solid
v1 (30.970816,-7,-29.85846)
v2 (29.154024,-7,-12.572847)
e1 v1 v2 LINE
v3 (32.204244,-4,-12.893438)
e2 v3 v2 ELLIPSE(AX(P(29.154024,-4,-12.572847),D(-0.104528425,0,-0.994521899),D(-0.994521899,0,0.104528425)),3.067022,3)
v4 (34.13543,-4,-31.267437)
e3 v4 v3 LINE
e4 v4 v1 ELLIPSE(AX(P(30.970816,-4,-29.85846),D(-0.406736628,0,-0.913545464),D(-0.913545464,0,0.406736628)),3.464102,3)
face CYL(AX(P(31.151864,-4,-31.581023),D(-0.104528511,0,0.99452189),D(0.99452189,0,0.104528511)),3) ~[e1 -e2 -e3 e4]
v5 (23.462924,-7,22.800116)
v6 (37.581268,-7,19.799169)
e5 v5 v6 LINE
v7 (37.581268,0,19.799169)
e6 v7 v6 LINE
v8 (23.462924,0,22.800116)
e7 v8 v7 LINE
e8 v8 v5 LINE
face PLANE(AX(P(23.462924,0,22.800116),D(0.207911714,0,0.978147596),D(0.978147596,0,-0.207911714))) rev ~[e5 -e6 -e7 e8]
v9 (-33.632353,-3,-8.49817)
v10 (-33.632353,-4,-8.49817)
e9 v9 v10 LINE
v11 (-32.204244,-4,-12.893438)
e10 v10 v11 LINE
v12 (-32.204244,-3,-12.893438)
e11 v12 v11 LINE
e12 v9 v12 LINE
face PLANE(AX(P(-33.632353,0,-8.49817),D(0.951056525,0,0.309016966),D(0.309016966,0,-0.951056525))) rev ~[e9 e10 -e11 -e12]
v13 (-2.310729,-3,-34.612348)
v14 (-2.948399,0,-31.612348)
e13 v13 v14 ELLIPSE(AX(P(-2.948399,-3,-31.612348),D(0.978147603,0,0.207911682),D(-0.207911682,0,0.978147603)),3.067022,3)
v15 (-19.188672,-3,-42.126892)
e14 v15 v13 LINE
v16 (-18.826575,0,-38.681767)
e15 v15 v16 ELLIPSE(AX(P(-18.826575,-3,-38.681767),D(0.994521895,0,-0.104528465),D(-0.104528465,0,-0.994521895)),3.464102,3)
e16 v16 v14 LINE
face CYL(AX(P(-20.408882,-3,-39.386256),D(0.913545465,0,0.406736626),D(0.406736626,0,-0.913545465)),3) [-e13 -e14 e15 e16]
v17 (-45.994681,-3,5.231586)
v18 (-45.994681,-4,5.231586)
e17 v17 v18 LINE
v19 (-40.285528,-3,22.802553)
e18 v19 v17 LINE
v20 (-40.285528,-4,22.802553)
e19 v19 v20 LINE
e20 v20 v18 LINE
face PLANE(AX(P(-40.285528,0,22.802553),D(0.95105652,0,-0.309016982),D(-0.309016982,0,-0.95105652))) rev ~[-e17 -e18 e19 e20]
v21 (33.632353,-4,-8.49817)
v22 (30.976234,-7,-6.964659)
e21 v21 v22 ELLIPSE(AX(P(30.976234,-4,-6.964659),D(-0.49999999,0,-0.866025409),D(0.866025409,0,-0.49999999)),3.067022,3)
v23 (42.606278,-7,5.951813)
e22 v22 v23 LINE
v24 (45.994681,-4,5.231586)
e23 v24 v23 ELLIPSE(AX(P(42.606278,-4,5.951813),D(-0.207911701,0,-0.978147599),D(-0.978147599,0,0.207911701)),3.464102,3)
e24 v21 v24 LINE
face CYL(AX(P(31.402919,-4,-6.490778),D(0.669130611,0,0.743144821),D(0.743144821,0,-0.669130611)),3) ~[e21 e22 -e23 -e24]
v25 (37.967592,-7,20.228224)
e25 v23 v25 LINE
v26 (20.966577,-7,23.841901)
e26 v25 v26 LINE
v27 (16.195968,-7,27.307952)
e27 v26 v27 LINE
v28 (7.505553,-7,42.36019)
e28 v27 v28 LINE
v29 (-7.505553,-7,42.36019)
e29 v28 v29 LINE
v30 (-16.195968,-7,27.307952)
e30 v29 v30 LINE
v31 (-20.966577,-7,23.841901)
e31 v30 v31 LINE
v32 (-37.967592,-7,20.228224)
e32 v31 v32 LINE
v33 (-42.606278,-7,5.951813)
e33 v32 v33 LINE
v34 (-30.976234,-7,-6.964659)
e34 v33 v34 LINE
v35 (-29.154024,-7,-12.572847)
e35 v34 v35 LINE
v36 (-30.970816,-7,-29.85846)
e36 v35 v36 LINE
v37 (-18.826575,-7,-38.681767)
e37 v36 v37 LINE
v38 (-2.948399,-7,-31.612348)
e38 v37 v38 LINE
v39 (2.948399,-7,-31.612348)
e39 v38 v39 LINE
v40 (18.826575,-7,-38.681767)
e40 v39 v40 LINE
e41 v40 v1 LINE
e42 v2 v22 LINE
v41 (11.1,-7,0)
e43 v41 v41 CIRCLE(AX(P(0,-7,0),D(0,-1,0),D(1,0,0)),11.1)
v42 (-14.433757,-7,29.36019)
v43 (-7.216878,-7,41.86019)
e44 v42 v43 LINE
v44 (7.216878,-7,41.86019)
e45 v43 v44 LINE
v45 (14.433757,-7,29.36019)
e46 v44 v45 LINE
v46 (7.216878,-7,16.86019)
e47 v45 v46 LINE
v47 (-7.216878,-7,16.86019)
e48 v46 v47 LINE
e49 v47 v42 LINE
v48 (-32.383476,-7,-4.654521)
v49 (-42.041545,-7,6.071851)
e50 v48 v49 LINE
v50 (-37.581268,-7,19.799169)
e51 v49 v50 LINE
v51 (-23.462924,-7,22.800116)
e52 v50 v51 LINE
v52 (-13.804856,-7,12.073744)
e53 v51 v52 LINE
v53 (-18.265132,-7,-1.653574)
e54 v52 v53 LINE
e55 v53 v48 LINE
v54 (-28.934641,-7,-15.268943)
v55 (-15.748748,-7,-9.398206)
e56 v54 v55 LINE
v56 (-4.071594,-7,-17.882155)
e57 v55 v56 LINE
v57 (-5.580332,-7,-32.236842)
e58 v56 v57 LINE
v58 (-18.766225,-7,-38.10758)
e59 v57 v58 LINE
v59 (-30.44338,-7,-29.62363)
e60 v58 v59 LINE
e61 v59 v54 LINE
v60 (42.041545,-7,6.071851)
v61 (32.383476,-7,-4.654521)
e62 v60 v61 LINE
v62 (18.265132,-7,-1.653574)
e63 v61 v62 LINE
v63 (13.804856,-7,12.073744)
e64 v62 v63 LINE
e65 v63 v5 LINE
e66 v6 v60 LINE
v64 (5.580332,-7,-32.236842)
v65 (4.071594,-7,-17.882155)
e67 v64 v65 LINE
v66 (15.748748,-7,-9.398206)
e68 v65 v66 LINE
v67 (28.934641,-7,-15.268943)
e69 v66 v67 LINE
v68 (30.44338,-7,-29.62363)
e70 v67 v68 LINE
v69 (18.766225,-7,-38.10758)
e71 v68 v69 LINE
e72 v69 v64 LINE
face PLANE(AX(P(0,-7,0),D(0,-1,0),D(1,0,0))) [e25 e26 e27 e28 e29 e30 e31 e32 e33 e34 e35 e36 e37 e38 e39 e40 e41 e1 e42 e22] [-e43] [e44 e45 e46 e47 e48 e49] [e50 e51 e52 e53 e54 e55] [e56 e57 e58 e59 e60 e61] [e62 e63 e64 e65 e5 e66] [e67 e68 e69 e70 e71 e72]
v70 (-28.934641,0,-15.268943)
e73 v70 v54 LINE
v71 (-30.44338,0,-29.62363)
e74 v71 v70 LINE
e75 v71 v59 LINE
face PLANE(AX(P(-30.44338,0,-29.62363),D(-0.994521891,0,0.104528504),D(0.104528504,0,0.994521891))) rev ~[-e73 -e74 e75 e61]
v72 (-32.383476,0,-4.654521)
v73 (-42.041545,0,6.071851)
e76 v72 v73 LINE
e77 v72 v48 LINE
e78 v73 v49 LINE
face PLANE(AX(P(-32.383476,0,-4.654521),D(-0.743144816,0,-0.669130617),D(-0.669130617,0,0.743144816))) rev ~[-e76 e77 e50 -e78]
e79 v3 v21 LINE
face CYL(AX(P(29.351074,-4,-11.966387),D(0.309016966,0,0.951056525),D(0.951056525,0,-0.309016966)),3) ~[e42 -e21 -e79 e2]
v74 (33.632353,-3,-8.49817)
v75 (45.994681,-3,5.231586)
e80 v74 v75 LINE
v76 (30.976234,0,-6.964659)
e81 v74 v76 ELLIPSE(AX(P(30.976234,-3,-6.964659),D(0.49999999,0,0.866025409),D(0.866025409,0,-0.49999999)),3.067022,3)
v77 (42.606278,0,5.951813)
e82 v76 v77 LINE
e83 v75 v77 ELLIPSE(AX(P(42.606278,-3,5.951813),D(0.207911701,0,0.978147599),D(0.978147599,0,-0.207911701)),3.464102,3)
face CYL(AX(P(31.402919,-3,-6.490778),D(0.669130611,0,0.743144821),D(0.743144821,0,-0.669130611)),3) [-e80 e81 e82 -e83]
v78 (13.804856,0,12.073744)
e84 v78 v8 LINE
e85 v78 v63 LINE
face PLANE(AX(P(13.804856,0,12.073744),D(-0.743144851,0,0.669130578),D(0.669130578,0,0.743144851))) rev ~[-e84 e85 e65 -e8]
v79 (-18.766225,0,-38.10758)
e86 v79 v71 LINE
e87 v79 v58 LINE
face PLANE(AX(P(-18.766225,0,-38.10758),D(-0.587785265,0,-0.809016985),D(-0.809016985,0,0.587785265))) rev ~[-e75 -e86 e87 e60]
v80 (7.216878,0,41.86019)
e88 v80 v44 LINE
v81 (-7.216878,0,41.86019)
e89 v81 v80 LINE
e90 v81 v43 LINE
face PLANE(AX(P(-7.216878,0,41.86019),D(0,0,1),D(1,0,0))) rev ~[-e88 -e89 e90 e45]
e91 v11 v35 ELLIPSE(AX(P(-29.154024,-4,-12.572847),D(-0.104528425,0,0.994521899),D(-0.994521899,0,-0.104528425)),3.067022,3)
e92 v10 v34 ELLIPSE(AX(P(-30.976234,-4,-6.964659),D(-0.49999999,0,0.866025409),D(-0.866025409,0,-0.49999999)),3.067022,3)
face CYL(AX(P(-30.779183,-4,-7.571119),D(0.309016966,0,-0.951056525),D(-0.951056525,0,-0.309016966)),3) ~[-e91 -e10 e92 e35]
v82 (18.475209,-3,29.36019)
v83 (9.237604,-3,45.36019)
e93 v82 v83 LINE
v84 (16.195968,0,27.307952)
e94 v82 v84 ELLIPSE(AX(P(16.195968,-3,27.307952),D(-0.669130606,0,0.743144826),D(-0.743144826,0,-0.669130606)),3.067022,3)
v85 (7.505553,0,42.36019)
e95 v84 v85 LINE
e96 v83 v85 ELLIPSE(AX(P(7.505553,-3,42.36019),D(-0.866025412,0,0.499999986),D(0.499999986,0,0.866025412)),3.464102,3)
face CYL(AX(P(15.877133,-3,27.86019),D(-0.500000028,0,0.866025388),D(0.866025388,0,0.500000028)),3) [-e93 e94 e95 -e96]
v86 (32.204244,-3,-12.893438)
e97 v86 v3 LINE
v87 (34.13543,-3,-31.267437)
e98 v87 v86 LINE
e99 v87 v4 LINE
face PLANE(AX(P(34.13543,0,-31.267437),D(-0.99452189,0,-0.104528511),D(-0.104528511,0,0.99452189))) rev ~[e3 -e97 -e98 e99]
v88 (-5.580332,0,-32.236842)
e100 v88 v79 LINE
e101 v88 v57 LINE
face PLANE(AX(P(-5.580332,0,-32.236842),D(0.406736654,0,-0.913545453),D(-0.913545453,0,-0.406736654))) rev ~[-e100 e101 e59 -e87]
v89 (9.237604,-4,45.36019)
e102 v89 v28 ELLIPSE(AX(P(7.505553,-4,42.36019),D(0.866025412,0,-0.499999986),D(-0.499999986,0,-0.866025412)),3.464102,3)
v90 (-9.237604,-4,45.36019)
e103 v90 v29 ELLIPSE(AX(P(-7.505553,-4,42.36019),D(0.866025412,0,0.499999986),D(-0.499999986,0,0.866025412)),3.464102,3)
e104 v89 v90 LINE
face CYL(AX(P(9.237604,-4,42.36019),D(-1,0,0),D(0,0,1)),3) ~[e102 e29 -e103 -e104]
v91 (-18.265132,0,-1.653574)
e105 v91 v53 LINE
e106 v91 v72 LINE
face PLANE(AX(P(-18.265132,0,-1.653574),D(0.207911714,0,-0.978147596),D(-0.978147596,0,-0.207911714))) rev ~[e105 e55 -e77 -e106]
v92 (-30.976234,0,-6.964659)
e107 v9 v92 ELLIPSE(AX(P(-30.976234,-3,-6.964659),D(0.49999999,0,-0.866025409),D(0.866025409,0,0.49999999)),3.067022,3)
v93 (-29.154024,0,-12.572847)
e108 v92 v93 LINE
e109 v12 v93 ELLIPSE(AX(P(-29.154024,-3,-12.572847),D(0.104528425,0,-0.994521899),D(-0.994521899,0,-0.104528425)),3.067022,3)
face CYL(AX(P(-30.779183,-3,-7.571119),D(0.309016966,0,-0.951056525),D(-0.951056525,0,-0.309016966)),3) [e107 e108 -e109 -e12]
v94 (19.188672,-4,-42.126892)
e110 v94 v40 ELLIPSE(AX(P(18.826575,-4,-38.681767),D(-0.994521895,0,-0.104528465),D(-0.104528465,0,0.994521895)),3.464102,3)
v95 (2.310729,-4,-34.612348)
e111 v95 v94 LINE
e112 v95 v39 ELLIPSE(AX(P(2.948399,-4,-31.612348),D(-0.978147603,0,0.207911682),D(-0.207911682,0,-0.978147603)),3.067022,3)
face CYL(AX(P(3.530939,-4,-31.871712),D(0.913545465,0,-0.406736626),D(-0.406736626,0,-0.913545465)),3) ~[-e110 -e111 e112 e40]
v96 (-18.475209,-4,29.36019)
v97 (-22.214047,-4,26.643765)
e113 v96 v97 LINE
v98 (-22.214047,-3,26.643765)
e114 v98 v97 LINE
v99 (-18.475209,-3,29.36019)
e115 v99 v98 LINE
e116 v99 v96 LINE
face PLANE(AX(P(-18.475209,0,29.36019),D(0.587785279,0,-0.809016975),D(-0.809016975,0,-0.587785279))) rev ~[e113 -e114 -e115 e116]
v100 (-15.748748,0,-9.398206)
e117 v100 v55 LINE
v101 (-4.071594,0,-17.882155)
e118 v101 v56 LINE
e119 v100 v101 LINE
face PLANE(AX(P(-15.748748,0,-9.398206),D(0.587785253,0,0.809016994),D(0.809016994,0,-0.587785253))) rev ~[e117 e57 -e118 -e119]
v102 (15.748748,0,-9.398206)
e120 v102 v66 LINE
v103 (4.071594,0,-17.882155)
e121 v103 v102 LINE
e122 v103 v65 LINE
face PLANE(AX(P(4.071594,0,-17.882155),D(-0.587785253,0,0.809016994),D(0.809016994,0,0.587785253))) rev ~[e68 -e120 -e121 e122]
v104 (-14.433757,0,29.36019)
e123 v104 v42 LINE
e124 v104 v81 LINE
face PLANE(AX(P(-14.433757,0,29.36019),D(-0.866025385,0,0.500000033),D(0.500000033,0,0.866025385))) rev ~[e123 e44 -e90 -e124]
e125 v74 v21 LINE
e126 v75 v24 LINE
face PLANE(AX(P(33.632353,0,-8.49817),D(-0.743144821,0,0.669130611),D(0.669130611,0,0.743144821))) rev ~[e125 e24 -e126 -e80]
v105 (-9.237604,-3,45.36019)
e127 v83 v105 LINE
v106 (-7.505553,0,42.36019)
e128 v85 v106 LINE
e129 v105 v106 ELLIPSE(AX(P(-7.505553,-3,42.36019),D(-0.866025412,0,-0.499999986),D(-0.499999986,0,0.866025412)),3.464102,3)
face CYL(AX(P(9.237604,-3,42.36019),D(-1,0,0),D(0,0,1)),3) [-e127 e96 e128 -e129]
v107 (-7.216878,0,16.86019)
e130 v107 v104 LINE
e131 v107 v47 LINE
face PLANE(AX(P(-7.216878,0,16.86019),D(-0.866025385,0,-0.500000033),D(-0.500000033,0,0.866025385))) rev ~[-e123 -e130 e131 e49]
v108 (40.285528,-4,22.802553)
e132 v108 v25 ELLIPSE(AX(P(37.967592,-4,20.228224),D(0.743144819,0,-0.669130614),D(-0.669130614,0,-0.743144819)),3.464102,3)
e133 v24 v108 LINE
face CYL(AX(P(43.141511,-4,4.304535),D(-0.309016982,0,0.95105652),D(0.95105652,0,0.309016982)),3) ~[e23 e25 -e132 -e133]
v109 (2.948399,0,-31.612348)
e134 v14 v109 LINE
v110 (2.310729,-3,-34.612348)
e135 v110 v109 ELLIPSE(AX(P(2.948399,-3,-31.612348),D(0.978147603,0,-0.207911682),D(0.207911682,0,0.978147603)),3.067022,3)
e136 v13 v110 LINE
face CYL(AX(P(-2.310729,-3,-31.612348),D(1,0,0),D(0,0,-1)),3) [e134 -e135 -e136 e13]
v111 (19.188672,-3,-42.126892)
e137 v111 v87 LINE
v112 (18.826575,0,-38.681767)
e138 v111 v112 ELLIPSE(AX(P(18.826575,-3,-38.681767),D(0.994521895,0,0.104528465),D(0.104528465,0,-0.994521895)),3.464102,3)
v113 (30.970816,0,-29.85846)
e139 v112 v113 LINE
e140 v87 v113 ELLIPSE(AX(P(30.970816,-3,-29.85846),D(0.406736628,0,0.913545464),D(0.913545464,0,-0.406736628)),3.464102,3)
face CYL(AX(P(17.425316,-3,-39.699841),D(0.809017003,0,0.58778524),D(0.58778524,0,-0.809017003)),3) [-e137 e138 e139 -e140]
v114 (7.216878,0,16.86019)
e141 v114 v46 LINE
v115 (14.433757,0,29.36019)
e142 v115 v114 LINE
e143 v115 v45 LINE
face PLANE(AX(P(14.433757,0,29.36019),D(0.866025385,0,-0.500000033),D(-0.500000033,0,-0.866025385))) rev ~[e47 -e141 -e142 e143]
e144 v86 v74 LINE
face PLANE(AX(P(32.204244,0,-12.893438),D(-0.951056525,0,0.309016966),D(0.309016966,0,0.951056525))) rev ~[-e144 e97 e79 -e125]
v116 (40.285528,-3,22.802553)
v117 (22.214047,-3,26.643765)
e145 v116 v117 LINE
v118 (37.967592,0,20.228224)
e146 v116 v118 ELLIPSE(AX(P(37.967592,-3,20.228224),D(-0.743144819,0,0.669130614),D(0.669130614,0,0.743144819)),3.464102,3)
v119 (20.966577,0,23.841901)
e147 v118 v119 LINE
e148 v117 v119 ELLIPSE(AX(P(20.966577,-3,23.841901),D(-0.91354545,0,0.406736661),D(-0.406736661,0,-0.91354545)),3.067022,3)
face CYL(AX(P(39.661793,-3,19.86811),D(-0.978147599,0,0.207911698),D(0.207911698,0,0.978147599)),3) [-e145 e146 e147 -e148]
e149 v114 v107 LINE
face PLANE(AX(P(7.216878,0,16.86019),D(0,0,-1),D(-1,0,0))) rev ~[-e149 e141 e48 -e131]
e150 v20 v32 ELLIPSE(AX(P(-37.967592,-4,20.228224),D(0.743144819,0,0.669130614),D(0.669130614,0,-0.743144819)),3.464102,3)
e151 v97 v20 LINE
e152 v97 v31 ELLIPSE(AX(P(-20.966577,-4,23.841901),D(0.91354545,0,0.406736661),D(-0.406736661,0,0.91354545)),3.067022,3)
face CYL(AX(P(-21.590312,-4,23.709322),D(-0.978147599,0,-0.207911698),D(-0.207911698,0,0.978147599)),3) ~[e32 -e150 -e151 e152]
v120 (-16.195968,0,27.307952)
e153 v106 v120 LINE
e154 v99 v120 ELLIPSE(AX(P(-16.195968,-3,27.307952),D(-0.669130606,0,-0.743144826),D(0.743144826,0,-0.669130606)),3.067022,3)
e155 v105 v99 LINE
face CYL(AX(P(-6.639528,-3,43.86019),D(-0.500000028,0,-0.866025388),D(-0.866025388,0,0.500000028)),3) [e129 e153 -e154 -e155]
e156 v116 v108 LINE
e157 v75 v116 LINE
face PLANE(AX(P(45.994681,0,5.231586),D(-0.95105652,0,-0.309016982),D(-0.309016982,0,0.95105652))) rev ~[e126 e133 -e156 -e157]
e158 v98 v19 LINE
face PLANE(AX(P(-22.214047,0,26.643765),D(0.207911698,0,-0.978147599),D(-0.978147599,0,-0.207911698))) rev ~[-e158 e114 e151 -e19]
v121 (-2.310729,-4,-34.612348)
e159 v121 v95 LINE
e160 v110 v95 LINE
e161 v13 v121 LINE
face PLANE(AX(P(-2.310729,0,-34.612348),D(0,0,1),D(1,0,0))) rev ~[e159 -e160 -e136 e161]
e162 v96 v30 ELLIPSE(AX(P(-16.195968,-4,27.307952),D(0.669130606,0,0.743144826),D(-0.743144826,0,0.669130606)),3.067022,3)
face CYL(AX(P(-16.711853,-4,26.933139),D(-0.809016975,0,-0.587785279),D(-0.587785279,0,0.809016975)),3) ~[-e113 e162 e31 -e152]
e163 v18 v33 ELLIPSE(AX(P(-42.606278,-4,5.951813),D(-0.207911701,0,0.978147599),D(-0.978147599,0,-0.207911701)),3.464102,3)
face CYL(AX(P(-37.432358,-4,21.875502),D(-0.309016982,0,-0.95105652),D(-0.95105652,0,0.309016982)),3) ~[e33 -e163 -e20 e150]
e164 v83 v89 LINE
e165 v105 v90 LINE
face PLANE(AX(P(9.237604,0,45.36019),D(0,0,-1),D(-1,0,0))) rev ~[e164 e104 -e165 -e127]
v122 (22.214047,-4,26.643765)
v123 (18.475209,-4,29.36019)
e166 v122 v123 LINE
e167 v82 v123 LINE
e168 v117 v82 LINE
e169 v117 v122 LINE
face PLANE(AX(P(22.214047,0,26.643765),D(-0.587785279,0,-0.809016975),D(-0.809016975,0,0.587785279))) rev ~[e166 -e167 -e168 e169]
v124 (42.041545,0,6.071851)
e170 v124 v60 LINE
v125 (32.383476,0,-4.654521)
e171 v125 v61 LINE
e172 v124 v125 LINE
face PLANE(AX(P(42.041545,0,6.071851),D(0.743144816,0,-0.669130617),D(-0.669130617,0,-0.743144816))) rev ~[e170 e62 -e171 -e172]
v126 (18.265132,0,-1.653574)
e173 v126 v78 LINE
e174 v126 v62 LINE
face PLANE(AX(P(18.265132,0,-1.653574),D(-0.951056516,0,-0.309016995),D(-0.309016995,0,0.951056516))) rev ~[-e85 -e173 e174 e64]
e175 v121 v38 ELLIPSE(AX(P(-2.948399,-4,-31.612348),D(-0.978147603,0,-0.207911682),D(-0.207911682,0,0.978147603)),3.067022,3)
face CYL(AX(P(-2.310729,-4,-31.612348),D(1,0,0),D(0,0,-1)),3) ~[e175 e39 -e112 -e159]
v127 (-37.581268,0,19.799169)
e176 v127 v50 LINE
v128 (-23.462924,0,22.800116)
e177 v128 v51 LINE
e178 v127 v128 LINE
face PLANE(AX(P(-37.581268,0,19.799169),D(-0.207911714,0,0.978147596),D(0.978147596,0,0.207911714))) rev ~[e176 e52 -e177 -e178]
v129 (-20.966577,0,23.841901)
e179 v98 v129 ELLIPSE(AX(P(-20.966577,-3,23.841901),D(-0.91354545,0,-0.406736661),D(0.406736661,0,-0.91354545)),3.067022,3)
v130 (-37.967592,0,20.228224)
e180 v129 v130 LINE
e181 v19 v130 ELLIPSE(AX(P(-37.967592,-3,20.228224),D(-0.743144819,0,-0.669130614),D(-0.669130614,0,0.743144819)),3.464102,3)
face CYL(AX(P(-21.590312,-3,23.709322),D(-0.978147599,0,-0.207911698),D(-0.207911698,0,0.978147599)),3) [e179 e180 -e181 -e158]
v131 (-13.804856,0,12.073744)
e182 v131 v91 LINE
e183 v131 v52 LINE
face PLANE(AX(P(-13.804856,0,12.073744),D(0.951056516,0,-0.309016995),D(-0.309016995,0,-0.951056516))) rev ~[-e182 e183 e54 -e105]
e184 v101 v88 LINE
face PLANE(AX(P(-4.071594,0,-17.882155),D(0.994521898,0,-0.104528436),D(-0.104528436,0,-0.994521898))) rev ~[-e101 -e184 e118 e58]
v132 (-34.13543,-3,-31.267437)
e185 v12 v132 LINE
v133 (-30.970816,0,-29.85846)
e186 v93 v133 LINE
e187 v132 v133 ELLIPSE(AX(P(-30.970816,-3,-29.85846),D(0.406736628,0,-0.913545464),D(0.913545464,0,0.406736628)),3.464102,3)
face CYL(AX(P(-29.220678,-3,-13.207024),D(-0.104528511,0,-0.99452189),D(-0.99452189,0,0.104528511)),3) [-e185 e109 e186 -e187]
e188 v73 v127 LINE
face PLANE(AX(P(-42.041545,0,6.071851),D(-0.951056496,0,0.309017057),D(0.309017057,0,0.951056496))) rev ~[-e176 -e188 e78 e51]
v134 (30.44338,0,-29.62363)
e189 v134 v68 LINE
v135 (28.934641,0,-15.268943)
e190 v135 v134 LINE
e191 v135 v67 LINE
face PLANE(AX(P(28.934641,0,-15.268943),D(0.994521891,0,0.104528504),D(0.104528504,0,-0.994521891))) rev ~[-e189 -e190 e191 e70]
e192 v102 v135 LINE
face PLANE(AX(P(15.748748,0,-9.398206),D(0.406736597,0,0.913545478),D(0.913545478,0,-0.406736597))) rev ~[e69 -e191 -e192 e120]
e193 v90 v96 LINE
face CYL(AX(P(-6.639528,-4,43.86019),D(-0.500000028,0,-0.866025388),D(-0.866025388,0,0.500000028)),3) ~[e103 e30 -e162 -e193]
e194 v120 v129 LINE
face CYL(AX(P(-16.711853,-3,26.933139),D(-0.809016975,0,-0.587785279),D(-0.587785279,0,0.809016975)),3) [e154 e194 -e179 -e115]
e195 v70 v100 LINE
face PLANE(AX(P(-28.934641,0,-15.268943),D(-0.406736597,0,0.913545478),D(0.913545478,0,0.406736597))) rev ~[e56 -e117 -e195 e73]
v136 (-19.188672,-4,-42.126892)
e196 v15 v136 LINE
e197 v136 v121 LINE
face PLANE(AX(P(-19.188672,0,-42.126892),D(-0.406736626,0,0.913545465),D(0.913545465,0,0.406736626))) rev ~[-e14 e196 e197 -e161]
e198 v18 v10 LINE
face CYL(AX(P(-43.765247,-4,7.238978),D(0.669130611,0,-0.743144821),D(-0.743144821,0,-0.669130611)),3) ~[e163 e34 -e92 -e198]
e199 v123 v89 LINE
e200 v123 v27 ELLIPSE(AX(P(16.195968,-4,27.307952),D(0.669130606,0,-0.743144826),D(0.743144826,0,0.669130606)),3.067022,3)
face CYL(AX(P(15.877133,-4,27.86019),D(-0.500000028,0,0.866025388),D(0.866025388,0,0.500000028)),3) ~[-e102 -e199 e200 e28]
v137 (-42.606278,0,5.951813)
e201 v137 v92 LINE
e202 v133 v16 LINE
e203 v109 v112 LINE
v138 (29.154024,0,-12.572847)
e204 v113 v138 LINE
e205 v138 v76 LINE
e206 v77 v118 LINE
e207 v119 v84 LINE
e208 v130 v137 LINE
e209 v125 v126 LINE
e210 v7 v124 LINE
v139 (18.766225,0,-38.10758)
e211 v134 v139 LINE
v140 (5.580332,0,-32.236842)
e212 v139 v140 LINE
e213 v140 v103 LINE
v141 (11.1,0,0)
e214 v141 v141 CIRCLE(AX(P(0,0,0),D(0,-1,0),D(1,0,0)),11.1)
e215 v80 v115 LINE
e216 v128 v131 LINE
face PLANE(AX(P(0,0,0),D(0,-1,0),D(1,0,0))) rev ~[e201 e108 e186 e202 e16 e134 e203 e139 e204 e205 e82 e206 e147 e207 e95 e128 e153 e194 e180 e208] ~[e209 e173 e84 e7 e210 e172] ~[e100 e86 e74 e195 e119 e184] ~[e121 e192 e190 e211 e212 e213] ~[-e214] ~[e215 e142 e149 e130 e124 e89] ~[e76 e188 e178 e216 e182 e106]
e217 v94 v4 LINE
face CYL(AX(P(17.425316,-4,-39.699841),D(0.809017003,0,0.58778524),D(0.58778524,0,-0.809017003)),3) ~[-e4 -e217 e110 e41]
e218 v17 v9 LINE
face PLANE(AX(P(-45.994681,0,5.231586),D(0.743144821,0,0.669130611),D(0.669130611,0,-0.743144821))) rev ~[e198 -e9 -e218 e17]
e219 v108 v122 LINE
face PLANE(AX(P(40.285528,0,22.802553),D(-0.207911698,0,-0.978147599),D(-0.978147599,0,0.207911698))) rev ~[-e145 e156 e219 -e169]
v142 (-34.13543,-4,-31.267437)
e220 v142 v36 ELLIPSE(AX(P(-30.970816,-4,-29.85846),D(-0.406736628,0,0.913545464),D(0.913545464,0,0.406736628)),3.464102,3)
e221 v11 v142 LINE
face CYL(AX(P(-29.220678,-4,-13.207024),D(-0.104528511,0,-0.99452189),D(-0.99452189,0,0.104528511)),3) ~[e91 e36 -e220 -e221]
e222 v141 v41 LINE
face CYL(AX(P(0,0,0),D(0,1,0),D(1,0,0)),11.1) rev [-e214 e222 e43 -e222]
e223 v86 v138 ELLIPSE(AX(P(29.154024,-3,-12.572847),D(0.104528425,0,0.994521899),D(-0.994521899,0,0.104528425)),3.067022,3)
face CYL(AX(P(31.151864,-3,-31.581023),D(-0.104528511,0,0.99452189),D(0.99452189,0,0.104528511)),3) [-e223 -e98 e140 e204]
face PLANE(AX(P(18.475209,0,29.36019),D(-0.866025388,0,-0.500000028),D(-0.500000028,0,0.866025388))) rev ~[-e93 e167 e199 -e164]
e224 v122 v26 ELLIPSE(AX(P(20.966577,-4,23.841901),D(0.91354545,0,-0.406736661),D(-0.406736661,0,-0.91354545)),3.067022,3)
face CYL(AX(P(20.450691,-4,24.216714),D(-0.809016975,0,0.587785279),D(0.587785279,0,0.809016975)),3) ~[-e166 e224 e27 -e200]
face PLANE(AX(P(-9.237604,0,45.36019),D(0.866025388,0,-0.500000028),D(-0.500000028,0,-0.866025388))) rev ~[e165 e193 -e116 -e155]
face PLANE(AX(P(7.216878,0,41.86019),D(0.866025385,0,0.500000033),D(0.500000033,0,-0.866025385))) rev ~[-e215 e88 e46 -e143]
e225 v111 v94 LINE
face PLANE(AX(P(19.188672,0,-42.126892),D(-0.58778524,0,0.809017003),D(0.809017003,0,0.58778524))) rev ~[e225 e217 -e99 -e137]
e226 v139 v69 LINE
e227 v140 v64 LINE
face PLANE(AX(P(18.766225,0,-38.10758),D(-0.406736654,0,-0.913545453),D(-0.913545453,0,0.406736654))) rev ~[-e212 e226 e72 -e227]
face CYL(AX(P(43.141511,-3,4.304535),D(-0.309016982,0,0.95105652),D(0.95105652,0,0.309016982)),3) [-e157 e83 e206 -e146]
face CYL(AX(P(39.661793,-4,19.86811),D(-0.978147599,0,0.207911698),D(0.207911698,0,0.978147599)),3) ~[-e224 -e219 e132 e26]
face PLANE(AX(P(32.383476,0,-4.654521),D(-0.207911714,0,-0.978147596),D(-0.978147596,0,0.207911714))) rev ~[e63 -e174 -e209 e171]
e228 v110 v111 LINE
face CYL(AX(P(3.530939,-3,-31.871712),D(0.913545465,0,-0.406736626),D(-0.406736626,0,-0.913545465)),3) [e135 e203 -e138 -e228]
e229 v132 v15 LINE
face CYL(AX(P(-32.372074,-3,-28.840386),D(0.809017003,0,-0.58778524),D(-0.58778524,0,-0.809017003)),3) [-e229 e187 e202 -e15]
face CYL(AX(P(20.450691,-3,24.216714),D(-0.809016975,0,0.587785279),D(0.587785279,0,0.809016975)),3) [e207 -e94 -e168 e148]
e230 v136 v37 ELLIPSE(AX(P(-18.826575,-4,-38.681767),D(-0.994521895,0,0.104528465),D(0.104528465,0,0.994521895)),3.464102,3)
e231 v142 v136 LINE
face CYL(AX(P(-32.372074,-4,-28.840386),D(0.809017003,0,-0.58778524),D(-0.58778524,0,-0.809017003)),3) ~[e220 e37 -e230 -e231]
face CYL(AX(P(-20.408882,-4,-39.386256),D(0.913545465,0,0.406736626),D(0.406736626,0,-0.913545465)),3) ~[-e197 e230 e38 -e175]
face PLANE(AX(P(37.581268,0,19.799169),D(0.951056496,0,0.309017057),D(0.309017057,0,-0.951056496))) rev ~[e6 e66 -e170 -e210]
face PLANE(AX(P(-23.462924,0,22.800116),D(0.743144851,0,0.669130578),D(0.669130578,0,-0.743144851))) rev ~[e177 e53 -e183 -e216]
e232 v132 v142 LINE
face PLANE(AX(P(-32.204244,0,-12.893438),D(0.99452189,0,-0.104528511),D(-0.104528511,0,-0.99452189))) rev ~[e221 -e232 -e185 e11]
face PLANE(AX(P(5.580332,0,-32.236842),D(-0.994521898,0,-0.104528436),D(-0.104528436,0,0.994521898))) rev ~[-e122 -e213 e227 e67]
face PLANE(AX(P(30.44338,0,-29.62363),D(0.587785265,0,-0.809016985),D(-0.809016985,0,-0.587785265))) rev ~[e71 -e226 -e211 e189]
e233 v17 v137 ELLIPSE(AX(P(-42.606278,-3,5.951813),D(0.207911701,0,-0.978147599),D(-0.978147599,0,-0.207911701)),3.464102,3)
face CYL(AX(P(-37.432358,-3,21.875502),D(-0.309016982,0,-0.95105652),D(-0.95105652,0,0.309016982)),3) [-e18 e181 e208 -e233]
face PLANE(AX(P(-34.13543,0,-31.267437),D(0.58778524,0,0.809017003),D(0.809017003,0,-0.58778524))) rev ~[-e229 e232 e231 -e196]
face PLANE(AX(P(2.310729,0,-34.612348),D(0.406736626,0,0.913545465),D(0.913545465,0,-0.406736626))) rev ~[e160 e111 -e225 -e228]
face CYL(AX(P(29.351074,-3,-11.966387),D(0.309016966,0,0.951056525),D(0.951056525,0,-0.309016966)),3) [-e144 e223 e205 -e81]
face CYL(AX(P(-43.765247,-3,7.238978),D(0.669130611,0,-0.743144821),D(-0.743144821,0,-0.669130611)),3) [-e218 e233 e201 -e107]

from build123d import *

# Parameters (mm, degrees)
F0_R     = 12.251715
F0_R_2   = 11.1
F1_DEPTH = 7
F2_R     = 3


with BuildPart() as f1:
    # F0 (on Front) → F1 (new body)
    with BuildSketch(Plane.XZ):
        Polygon((18.475209, 29.36019), (9.237604, 13.36019), (-9.237604, 13.36019), (-18.475209, 29.36019), (-22.214047, 26.643765), (-9.851719, 12.91401), (-15.560873, -4.656958), (-33.632353, -8.49817), (-32.204244, -12.893438), (-15.326302, -5.378893), (-0.379544, -16.238348), (-2.310729, -34.612348), (2.310729, -34.612348), (0.379544, -16.238348), (15.326302, -5.378893), (32.204244, -12.893438), (33.632353, -8.49817), (15.560873, -4.656958), (9.851719, 12.91401), (22.214047, 26.643765), align=None)
        Circle(F0_R, mode=Mode.SUBTRACT)
        Polygon((-9.237604, 13.36019), (9.237604, 13.36019), (18.475209, 29.36019), (9.237604, 45.36019), (-9.237604, 45.36019), (-18.475209, 29.36019), align=None)
        Polygon((14.433757, 29.36019), (7.216878, 16.86019), (-7.216878, 16.86019), (-14.433757, 29.36019), (-7.216878, 41.86019), (7.216878, 41.86019), align=None, mode=Mode.SUBTRACT)
        Polygon((40.285528, 22.802553), (22.214047, 26.643765), (9.851719, 12.91401), (15.560873, -4.656958), (33.632353, -8.49817), (45.994681, 5.231586), align=None)
        Polygon((13.804856, 12.073744), (23.462924, 22.800116), (37.581268, 19.799169), (42.041545, 6.071851), (32.383476, -4.654521), (18.265132, -1.653574), align=None, mode=Mode.SUBTRACT)
        Polygon((-9.851719, 12.91401), (-22.214047, 26.643765), (-40.285528, 22.802553), (-45.994681, 5.231586), (-33.632353, -8.49817), (-15.560873, -4.656958), align=None)
        Polygon((-18.265132, -1.653574), (-32.383476, -4.654521), (-42.041545, 6.071851), (-37.581268, 19.799169), (-23.462924, 22.800116), (-13.804856, 12.073744), align=None, mode=Mode.SUBTRACT)
        Polygon((34.13543, -31.267437), (32.204244, -12.893438), (15.326302, -5.378893), (0.379544, -16.238348), (2.310729, -34.612348), (19.188672, -42.126892), align=None)
        Polygon((15.748748, -9.398206), (28.934641, -15.268943), (30.44338, -29.62363), (18.766225, -38.10758), (5.580332, -32.236842), (4.071594, -17.882155), align=None, mode=Mode.SUBTRACT)
        Polygon((-15.326302, -5.378893), (-32.204244, -12.893438), (-34.13543, -31.267437), (-19.188672, -42.126892), (-2.310729, -34.612348), (-0.379544, -16.238348), align=None)
        Polygon((-4.071594, -17.882155), (-5.580332, -32.236842), (-18.766225, -38.10758), (-30.44338, -29.62363), (-28.934641, -15.268943), (-15.748748, -9.398206), align=None, mode=Mode.SUBTRACT)
        Circle(F0_R)
        Circle(F0_R_2, mode=Mode.SUBTRACT)
    extrude(amount=F1_DEPTH)

    # F2
    f2_edges = [f1.edges().sort_by_distance(p)[0] for p in [
        (0, -7, 45.36019),
        (13.856406, -7, 37.36019),
        (31.249787, -7, 24.723159),
        (20.344628, -7, 28.001978),
        (43.140104, -7, 14.01707),
        (39.813517, -7, -1.633292),
        (33.169837, -7, -22.080437),
        (32.918299, -7, -10.695804),
        (26.662051, -7, -36.697165),
        (10.7497, -7, -38.36962),
        (-10.7497, -7, -38.36962),
        (0, -7, -34.612348),
        (-26.662051, -7, -36.697165),
        (-33.169837, -7, -22.080437),
        (-32.918299, -7, -10.695804),
        (-43.140104, -7, 14.01707),
        (-39.813517, -7, -1.633292),
        (-31.249787, -7, 24.723159),
        (-20.344628, -7, 28.001978),
        (-13.856406, -7, 37.36019),
        (-26.662051, 0, -36.697165),
        (-10.7497, 0, -38.36962),
        (0, 0, -34.612348),
        (10.7497, 0, -38.36962),
        (26.662051, 0, -36.697165),
        (33.169837, 0, -22.080437),
        (39.813517, 0, -1.633292),
        (43.140104, 0, 14.01707),
        (31.249787, 0, 24.723159),
        (32.918299, 0, -10.695804),
        (20.344628, 0, 28.001978),
        (13.856406, 0, 37.36019),
        (0, 0, 45.36019),
        (-13.856406, 0, 37.36019),
        (-20.344628, 0, 28.001978),
        (-31.249787, 0, 24.723159),
        (-43.140104, 0, 14.01707),
        (-33.169837, 0, -22.080437),
        (-39.813517, 0, -1.633292),
        (-32.918299, 0, -10.695804),
    ]]
    fillet(f2_edges, radius=F2_R)


solid = f1.part
